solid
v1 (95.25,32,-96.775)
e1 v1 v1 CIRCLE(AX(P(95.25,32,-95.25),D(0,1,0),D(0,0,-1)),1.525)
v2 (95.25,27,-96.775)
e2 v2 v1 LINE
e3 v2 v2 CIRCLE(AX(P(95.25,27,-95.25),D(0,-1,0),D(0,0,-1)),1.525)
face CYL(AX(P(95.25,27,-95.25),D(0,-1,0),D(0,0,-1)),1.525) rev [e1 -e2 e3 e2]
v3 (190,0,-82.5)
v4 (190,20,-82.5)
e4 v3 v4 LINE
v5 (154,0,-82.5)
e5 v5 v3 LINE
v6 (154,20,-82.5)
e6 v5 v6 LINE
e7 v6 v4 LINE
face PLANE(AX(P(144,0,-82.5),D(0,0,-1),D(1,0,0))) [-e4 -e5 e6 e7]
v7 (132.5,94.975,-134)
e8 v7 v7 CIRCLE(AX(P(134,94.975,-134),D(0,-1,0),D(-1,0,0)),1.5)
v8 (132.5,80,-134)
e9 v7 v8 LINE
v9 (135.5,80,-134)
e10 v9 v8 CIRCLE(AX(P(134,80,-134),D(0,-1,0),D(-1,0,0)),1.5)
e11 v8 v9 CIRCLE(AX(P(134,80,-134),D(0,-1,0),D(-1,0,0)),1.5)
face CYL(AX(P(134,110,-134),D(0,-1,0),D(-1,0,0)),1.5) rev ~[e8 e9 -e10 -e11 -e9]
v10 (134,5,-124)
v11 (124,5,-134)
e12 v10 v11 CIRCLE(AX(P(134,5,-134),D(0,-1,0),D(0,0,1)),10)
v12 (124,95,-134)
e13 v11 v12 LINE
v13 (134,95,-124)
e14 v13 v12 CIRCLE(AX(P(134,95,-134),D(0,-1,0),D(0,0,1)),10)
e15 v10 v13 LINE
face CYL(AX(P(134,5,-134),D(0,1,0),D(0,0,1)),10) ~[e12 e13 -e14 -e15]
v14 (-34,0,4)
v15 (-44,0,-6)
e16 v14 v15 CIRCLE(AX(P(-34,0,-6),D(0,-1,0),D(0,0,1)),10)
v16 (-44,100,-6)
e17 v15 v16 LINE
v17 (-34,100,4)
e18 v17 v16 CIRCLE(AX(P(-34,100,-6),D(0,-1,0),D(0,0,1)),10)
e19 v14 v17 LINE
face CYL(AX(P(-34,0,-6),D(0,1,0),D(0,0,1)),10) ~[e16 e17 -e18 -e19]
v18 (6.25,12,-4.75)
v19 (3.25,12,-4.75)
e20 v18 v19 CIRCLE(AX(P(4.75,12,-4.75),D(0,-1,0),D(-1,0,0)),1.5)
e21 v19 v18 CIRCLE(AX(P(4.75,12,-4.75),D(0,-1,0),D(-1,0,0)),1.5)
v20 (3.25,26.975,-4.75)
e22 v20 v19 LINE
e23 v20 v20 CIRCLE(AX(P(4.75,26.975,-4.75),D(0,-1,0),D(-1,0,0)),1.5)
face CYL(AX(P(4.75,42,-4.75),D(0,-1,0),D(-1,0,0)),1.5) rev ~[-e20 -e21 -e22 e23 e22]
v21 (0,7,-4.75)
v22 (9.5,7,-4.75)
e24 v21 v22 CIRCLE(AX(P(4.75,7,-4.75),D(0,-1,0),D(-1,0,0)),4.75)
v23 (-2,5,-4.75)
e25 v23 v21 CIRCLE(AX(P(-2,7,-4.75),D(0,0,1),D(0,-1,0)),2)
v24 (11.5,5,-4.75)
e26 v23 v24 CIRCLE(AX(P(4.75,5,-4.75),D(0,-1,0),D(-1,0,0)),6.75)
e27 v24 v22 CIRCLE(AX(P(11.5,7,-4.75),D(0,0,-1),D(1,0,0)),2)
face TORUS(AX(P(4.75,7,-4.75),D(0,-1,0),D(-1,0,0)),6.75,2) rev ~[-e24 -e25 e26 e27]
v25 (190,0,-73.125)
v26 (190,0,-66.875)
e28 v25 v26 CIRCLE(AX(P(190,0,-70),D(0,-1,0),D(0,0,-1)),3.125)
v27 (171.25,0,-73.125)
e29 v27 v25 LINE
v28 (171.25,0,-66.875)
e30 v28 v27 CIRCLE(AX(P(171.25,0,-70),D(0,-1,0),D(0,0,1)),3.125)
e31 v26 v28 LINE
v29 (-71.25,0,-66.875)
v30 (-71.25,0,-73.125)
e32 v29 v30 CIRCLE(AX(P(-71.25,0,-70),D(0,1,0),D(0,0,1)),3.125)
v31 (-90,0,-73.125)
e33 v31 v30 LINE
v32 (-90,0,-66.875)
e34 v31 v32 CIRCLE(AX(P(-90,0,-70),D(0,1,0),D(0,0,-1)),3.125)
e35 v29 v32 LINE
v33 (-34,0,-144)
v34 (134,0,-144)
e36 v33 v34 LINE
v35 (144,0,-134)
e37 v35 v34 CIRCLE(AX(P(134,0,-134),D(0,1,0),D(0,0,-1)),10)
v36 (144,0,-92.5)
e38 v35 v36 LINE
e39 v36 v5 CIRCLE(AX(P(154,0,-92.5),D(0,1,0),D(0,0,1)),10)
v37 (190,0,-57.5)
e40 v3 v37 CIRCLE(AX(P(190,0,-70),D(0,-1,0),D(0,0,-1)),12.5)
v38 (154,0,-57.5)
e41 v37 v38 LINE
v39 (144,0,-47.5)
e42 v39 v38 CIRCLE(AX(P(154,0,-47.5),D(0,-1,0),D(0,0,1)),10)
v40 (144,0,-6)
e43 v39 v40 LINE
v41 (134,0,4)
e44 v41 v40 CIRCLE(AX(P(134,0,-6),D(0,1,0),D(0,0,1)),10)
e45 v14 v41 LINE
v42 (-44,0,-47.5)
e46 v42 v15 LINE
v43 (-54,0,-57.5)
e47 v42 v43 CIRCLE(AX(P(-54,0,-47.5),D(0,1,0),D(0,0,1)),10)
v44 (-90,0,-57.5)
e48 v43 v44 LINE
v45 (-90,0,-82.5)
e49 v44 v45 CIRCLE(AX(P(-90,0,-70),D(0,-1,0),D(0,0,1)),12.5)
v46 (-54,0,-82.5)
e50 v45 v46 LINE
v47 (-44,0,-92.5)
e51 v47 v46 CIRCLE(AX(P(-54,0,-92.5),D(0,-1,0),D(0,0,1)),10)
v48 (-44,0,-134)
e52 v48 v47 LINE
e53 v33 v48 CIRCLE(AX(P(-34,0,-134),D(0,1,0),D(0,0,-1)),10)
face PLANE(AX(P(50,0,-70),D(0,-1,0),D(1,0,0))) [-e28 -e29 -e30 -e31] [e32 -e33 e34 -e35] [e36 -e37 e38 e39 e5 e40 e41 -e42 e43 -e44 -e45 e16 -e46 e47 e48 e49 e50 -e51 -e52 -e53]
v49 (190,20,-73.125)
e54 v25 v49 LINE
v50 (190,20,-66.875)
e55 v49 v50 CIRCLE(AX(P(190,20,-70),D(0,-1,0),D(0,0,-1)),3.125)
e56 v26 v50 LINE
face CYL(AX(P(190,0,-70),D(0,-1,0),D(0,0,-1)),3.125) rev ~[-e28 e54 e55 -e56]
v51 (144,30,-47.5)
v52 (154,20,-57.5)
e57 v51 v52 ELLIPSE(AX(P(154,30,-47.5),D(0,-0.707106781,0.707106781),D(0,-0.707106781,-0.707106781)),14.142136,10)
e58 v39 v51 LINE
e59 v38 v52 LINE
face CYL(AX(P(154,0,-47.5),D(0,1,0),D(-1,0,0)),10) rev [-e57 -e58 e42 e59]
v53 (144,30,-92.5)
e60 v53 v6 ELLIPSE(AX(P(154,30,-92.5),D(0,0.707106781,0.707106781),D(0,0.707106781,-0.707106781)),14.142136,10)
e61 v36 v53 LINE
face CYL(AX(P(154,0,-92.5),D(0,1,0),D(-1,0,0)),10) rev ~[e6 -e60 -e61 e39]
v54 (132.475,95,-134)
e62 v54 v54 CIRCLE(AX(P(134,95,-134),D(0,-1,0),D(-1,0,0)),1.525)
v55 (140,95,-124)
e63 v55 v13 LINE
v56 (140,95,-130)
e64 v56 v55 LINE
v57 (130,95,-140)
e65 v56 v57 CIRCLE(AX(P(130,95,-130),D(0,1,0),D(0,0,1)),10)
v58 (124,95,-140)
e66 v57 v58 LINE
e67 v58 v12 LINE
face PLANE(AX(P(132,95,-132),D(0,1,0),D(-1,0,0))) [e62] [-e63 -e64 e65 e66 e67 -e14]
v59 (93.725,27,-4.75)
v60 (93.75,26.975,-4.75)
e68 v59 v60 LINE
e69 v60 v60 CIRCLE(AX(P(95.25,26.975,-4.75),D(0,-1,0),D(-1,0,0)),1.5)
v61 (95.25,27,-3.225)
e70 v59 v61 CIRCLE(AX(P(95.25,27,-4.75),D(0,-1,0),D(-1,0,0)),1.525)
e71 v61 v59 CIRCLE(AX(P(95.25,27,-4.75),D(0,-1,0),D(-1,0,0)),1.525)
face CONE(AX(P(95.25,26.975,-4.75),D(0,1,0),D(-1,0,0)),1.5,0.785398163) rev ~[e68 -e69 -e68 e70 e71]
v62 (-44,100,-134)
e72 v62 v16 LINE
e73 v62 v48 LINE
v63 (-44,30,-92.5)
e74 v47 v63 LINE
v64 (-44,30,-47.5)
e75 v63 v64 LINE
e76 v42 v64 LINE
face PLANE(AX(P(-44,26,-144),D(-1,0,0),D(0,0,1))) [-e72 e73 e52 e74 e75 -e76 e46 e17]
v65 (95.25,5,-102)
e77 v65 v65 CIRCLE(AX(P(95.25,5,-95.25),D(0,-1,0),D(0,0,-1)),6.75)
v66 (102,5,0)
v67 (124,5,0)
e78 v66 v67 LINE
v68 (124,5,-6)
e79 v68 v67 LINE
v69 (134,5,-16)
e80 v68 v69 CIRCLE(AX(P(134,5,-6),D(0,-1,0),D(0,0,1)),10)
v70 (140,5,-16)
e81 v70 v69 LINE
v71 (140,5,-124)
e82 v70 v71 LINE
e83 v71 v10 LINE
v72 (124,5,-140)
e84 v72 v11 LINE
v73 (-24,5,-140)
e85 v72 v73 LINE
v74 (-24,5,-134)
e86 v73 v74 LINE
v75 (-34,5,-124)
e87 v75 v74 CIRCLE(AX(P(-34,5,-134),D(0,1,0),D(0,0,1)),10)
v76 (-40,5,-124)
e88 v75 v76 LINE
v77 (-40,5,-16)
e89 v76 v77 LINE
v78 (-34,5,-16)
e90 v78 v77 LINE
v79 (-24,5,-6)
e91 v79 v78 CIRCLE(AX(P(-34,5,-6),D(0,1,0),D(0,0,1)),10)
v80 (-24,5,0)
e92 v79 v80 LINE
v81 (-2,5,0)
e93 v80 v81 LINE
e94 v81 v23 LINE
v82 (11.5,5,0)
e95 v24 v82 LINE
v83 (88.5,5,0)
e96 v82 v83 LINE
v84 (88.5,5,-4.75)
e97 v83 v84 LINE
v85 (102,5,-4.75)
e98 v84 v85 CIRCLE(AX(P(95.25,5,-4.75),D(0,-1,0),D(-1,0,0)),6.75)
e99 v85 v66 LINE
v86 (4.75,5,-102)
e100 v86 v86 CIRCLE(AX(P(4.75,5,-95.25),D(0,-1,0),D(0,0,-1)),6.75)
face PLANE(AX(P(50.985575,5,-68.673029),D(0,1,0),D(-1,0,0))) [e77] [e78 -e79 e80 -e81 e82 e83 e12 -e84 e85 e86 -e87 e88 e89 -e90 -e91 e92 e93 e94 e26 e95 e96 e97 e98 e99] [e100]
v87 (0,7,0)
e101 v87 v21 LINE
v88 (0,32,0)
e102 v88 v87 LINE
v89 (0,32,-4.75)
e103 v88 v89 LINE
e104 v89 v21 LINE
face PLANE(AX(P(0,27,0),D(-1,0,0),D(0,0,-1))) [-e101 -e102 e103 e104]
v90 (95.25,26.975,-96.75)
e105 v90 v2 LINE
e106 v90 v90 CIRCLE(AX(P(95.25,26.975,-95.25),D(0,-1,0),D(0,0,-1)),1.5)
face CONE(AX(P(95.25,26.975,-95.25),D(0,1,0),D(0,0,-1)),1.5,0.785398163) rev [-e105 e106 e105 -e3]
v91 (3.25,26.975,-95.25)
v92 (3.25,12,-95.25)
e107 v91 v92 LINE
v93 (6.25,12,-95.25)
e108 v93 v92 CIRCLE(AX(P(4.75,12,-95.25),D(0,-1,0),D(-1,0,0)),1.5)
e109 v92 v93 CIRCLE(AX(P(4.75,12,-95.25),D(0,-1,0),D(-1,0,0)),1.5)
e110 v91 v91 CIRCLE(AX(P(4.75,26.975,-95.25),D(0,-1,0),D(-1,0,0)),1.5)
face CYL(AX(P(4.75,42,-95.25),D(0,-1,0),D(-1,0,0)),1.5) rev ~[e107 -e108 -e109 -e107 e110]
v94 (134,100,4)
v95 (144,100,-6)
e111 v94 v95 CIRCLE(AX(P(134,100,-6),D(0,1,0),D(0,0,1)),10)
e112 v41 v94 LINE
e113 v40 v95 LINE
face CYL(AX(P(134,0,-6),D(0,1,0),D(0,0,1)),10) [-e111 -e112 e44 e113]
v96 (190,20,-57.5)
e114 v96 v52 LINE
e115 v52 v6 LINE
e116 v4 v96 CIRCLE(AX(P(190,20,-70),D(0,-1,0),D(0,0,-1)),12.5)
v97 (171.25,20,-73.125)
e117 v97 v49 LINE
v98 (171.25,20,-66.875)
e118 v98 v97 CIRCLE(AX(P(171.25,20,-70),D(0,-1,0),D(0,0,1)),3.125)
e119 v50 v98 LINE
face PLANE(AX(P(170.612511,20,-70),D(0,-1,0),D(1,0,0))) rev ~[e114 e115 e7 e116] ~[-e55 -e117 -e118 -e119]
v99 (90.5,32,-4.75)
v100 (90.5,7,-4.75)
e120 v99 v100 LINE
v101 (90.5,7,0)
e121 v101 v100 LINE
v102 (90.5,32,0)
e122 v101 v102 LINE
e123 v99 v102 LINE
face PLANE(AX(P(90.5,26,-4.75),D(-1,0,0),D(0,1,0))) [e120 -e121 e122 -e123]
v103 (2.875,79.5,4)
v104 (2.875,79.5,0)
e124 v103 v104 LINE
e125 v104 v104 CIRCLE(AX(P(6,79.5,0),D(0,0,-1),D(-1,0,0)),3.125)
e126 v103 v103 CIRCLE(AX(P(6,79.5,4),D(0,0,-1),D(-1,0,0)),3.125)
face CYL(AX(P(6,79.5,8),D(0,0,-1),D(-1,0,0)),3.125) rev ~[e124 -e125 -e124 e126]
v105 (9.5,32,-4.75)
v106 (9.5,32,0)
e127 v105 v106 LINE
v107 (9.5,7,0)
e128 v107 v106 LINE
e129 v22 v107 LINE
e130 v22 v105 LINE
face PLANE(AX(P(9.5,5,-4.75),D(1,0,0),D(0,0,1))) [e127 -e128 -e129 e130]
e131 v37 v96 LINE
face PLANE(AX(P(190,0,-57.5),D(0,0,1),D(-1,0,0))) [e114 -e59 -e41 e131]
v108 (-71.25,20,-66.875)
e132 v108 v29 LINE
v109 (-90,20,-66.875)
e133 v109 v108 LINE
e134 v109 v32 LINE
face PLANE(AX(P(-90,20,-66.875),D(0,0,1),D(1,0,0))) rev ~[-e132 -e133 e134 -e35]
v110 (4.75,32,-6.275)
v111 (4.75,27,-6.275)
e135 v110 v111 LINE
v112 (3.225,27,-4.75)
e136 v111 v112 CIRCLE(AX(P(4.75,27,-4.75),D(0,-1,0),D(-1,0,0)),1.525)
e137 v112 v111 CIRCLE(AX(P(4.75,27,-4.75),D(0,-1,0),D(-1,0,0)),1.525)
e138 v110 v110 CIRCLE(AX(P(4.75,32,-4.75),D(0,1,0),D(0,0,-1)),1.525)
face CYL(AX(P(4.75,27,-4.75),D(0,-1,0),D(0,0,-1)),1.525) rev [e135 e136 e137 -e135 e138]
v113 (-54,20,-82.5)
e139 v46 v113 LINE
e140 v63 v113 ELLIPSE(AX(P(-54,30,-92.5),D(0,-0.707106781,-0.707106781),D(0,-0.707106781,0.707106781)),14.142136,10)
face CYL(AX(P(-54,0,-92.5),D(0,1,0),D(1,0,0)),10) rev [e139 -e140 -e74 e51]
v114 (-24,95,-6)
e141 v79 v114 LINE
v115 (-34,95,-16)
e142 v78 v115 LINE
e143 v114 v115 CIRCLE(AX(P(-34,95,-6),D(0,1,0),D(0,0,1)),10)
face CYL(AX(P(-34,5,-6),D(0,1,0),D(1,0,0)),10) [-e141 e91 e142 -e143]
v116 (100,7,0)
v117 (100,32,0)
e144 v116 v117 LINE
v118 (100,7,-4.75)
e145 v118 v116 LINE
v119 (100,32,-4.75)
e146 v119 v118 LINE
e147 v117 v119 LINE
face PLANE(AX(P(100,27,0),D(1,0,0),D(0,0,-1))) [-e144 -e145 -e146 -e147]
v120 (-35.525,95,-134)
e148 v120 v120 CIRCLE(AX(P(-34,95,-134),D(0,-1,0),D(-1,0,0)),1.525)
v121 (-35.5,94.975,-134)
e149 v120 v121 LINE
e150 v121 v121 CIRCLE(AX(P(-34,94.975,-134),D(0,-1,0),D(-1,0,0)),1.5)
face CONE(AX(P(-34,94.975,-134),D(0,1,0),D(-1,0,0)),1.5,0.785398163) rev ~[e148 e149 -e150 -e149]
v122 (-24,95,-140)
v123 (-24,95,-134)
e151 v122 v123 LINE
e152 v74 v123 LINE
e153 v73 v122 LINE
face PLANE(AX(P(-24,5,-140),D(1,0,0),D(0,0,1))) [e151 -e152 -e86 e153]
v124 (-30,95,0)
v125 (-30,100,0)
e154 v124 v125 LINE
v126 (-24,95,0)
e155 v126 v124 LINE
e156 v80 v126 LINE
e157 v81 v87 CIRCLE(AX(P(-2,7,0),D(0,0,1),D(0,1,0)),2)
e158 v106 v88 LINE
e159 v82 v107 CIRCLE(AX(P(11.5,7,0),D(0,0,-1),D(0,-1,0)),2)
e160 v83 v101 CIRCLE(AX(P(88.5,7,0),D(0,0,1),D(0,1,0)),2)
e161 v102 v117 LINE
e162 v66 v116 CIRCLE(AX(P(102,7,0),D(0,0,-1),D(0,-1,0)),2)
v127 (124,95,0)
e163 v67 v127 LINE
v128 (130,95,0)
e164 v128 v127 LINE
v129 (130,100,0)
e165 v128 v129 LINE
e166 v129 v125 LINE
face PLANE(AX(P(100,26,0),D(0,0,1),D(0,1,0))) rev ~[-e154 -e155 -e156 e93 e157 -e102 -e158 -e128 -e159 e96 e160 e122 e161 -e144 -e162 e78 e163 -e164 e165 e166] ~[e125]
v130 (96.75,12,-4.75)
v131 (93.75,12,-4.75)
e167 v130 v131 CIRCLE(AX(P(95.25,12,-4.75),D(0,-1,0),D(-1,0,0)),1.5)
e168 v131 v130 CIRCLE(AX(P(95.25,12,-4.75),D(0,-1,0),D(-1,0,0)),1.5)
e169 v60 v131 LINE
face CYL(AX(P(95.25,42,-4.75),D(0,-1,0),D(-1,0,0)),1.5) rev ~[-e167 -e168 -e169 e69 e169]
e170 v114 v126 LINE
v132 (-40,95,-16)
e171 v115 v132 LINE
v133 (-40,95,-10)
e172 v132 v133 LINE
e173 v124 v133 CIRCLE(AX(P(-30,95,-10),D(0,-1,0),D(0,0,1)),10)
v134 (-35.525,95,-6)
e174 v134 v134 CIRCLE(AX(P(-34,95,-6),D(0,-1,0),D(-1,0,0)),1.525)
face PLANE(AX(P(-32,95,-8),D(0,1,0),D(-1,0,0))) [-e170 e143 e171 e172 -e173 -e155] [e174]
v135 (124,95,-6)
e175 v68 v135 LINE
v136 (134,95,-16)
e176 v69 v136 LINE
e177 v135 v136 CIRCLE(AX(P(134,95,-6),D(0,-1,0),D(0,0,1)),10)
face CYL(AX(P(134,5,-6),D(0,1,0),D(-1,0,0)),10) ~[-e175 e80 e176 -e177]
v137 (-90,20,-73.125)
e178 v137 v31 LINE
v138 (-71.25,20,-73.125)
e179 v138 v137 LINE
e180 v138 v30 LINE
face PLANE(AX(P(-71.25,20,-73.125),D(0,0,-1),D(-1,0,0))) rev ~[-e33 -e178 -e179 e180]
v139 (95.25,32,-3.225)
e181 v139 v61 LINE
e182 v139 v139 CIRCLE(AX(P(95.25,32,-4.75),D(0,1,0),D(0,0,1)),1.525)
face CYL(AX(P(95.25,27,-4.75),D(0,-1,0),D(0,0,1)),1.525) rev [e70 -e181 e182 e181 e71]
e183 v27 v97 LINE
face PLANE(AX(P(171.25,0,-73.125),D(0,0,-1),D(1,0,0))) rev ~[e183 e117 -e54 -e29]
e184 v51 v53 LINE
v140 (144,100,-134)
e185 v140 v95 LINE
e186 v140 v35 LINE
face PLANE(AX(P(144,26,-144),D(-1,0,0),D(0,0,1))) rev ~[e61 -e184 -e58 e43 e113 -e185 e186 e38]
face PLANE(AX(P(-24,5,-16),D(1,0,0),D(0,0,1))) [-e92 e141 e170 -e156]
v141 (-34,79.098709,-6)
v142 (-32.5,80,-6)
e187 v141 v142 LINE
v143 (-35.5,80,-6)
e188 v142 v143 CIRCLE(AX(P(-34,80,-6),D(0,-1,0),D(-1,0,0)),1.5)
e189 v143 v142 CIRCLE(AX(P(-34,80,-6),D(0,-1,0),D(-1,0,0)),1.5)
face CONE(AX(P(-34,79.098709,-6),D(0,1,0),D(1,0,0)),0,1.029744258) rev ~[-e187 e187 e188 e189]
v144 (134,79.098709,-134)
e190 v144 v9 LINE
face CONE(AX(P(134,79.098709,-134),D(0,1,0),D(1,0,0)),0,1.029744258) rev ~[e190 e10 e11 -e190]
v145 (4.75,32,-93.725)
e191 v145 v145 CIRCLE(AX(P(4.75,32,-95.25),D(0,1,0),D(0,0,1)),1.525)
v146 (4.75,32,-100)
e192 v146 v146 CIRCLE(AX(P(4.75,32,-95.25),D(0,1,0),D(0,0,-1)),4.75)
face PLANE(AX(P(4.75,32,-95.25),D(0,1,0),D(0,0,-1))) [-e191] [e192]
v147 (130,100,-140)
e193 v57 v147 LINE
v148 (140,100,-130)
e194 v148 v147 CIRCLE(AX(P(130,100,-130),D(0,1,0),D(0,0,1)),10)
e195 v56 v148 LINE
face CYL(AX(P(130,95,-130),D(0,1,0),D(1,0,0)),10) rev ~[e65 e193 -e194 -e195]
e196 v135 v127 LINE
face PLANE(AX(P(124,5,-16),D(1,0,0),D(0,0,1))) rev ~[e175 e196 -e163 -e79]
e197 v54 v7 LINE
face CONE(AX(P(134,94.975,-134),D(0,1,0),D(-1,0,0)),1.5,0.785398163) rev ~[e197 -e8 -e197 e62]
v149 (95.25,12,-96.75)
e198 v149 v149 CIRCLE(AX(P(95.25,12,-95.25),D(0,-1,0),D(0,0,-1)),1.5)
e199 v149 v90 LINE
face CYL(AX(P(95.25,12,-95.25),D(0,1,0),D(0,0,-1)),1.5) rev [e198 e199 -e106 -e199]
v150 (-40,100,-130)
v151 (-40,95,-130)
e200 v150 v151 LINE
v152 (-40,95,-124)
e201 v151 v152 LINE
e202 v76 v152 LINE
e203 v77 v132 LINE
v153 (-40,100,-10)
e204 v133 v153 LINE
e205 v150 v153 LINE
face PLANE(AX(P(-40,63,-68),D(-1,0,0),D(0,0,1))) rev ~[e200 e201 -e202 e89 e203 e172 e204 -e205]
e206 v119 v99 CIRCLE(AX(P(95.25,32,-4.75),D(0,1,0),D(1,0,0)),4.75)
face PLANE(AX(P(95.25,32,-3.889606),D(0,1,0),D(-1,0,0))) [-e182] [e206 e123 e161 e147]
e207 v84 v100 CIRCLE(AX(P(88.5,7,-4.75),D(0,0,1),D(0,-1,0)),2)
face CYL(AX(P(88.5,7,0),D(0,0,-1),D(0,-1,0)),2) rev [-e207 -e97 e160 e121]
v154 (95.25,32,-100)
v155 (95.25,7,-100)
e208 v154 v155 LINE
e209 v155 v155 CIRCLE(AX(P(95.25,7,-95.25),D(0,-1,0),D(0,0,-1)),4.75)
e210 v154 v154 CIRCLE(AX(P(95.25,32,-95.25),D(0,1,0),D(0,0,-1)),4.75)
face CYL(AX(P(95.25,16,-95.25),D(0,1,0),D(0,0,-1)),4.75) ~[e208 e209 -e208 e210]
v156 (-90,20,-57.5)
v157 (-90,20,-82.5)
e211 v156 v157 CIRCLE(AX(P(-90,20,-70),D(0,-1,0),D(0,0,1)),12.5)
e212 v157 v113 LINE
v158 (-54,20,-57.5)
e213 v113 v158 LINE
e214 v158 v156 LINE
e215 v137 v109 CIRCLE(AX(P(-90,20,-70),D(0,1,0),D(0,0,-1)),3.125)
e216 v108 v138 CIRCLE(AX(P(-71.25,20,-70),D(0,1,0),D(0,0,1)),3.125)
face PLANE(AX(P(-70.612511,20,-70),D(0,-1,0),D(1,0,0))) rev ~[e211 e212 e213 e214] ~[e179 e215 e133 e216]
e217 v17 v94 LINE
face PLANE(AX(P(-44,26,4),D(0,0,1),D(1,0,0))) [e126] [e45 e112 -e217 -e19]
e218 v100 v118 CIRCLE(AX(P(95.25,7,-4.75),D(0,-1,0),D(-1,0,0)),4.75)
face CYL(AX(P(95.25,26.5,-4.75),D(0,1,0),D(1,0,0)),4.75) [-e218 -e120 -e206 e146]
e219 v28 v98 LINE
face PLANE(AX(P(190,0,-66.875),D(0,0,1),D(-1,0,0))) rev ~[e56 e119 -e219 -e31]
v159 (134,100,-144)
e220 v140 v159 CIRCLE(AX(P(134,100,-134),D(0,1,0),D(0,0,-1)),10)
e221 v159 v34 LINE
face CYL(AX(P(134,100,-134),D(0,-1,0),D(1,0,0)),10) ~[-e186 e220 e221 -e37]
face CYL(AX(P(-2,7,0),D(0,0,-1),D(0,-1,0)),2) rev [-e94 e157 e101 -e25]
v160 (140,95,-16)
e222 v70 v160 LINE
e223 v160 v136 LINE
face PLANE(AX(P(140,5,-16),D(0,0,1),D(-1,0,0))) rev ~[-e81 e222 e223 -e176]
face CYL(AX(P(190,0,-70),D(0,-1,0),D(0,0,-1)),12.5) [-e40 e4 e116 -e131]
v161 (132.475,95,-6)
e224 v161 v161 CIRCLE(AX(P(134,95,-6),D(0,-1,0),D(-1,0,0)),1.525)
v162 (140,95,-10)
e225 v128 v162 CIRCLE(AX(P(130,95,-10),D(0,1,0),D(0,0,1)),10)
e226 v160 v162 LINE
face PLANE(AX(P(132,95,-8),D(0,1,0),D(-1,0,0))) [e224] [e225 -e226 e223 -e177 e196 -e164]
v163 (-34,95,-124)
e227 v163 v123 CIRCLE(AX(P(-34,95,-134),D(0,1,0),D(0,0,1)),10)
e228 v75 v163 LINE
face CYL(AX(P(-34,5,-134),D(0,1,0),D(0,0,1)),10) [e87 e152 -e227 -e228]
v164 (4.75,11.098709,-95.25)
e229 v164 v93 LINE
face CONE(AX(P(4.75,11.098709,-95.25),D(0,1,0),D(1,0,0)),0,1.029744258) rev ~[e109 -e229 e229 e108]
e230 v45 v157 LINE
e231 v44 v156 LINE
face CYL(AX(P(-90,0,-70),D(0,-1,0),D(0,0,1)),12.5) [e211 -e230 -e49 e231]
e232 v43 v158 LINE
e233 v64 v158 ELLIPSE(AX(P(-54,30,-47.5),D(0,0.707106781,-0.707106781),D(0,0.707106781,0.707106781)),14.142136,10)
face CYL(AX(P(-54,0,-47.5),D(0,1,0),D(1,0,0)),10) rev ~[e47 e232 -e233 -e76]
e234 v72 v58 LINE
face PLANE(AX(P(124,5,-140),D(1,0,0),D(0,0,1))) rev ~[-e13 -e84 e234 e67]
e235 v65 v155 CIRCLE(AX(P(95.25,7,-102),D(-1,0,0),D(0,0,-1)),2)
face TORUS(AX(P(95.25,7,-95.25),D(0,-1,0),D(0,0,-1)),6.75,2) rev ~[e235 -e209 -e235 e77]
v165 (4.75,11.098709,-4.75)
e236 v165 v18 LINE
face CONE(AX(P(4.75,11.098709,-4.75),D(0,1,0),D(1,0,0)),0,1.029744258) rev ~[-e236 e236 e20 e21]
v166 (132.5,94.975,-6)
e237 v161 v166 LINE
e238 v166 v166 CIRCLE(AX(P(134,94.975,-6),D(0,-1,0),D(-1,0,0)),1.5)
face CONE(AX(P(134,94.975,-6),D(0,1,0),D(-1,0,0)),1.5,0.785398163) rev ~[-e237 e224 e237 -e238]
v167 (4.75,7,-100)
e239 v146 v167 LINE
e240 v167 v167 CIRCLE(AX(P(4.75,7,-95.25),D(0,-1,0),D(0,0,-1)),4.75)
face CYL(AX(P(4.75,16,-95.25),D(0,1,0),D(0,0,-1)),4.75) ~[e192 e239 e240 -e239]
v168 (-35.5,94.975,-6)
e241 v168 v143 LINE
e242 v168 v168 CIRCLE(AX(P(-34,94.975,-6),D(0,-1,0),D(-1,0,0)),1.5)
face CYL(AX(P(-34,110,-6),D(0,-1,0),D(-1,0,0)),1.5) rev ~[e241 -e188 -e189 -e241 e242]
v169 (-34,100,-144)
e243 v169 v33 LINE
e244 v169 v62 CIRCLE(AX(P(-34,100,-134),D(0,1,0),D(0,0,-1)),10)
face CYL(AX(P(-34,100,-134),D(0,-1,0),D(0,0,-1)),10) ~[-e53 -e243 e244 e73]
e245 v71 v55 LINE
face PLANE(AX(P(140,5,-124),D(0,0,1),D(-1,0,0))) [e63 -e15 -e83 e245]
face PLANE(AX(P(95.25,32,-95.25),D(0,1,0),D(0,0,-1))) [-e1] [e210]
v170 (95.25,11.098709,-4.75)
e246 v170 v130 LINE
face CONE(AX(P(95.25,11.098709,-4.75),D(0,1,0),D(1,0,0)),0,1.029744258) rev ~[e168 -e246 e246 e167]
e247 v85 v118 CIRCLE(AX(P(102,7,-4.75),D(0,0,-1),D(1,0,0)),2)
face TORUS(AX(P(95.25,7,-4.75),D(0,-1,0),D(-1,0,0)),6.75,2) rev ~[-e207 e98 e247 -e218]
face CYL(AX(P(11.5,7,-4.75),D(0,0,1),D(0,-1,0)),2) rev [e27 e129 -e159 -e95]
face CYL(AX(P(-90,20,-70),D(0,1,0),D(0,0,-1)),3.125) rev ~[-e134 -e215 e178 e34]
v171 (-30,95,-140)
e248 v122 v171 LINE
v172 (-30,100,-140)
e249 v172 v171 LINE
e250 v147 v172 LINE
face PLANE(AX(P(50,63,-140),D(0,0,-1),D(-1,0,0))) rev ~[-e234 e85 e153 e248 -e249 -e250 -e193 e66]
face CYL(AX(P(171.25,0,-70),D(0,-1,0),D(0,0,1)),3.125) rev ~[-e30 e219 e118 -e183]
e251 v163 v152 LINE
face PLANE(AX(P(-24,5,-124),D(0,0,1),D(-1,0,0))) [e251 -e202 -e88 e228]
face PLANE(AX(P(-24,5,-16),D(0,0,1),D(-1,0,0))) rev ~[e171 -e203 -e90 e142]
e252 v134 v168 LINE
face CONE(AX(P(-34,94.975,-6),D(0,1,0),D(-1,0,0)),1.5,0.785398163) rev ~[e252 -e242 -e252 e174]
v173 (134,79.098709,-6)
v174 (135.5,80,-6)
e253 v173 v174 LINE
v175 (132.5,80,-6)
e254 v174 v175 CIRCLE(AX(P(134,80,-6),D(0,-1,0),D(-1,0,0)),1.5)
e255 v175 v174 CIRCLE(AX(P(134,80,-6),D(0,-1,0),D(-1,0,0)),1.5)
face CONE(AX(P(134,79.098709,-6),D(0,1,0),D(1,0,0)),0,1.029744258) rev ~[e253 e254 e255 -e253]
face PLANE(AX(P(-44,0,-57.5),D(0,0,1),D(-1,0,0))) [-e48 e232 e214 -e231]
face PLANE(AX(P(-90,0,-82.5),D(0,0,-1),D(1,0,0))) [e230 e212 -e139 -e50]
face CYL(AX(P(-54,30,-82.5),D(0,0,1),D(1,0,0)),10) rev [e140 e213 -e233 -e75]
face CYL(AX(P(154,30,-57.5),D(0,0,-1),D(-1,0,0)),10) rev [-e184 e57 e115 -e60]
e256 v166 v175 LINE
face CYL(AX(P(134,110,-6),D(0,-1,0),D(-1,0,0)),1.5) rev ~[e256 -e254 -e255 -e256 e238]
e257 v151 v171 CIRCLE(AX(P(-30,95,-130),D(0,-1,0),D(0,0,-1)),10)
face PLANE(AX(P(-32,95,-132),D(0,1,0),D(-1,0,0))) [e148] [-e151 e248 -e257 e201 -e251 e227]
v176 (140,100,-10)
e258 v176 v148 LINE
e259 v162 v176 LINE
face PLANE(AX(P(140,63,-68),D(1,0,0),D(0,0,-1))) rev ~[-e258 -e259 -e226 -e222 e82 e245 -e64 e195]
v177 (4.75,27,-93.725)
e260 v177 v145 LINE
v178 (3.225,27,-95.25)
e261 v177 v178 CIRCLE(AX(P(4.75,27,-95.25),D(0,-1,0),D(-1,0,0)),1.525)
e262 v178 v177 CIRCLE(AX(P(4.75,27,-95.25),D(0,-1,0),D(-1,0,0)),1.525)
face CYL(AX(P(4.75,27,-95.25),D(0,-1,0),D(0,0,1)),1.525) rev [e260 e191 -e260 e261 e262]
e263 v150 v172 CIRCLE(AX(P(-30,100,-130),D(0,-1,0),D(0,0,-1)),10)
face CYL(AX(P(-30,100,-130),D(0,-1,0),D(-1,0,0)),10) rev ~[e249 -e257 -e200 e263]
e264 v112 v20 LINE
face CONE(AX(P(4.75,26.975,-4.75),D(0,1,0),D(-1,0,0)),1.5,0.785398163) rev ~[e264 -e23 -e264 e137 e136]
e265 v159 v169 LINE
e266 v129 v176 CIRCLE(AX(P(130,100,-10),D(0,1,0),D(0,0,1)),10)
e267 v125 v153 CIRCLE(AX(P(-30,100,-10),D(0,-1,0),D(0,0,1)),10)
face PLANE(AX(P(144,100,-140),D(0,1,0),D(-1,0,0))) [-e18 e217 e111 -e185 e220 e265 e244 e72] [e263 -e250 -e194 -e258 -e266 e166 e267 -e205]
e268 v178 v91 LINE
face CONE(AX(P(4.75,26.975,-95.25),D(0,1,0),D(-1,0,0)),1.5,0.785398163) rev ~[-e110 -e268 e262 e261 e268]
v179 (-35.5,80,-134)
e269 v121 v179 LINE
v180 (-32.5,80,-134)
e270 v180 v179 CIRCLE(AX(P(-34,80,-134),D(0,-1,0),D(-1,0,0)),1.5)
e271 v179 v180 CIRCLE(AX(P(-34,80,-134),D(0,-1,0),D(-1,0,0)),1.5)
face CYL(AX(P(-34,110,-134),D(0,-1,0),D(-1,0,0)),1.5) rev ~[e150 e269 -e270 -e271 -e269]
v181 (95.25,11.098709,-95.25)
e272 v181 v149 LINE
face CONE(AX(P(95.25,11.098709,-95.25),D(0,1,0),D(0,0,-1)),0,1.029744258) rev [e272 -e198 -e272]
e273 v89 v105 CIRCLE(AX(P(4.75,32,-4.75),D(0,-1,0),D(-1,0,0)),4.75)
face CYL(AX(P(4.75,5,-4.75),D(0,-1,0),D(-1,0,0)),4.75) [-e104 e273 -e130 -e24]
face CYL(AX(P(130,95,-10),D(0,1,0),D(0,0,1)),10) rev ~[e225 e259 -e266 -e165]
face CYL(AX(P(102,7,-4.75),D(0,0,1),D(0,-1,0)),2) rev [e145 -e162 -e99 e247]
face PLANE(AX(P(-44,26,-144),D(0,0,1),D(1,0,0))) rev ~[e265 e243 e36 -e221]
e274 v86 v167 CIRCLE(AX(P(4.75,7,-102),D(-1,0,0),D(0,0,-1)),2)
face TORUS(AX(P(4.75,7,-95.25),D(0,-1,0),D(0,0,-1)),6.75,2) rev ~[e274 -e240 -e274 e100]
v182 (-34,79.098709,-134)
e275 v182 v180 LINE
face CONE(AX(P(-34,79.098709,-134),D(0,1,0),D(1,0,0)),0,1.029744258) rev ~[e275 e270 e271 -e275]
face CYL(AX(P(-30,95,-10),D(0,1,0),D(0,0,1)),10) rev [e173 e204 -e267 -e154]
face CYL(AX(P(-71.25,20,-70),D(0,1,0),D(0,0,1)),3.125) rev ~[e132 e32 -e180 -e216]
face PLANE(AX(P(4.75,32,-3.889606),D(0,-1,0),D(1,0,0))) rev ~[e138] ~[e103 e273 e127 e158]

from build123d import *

# Parameters (mm, degrees)
ESBO_O1_W                                  = 4.75
ESBO_O1_H                                  = 1
REVOLU_O1_ANGLE                            = 180
ESBO_O2_W                                  = 9.5
ESBO_O2_H                                  = 74
RESSALTO_EXTRUS_O1_DEPTH                   = 8.75
ESBO_O3_W                                  = 8.75
ESBO_O3_H                                  = 73
CORTE_EXTRUS_O1_DEPTH                      = 1.5
ESBO_O4_W                                  = 8
ESBO_O4_H                                  = 73
CORTE_EXTRUS_O2_DEPTH                      = 4.75
ESBO_O5_W                                  = 4
ESBO_O5_H                                  = 68
RESSALTO_EXTRUS_O2_DEPTH                   = 52
ESBO_O6_W                                  = 4
ESBO_O6_H                                  = 74
RESSALTO_EXTRUS_O3_DEPTH                   = 80
ESBO_O7_W                                  = 4
ESBO_O7_H                                  = 74
RESSALTO_EXTRUS_O4_DEPTH                   = 40
ESBO_O8_W                                  = 144
ESBO_O8_H                                  = 74
RESSALTO_EXTRUS_O5_DEPTH                   = 4
ESBO_O9_W                                  = 144
ESBO_O9_H                                  = 74
RESSALTO_EXTRUS_O6_DEPTH                   = 4
ESBO_O10_W                                 = 188
ESBO_O10_H                                 = 74
RESSALTO_EXTRUS_O7_DEPTH                   = 4
ESBO_O11_W                                 = 188
ESBO_O11_H                                 = 148
RESSALTO_EXTRUS_O8_DEPTH                   = 26
CORTE_EXTRUS_O3_DEPTH                      = 21
RESSALTO_EXTRUS_O9_DEPTH                   = 20
CORTE_EXTRUS_O4_DEPTH                      = 268.847437919
RESSALTO_EXTRUS_O10_DEPTH                  = 20
CORTE_EXTRUS_O5_DEPTH                      = 262.040705638
ESBO_O17_W                                 = 16
ESBO_O17_H                                 = 16
RESSALTO_EXTRUS_O11_DEPTH                  = 90
ESBO_O18_W                                 = 16
ESBO_O18_H                                 = 16
RESSALTO_EXTRUS_O12_DEPTH                  = 90
ESBO_O19_W                                 = 16
ESBO_O19_H                                 = 16
RESSALTO_EXTRUS_O13_DEPTH                  = 90
ESBO_O20_W                                 = 16
ESBO_O20_H                                 = 16
RESSALTO_EXTRUS_O14_DEPTH                  = 90
RESSALTO_EXTRUS_O15_DEPTH                  = 22
ESBO_O22_W                                 = 4.75
ESBO_O22_H                                 = 22
FURO_DE_DI_METRO_3_0_3_1_D                 = 3
FURO_DE_DI_METRO_3_0_3_1_DEPTH             = 15
FURO_DE_DI_METRO_3_0_3_1_TIP               = 0.901290929
FURO_DE_DI_METRO_3_0_3_2_D                 = 3
FURO_DE_DI_METRO_3_0_3_2_DEPTH             = 15
FURO_DE_DI_METRO_3_0_3_2_TIP               = 0.901290929
BROCA_DE_ROSQUEAR_PARA_HELICOIDE_M61_D     = 6.25
BROCA_DE_ROSQUEAR_PARA_HELICOIDE_M61_DEPTH = 4
CHANFRO1_SIZE                              = 0.025
FILETE1_R                                  = 2
FILETE2_R                                  = 10
ESBO_O35_W                                 = 4.75
ESBO_O35_H                                 = 22
FILETE3_R                                  = 2
ESBO_O43_W                                 = 52
ESBO_O43_H                                 = 6
RESSALTO_EXTRUS_O16_DEPTH                  = 4
ESBO_O44_R                                 = 4.75
ESBO_O44_R_2                               = 1.525
RESSALTO_EXTRUS_O17_DEPTH                  = 5


with BuildPart() as part:
    # Esboço1 → Revolução1 (revolve)
    with BuildSketch(Plane.XY.offset(-4.75)):
        with Locations((97.625, 26.5)):
            Rectangle(ESBO_O1_W, ESBO_O1_H)
    revolve(axis=Axis((95.25, 27, -4.75), (0, 1, 0)), revolution_arc=REVOLU_O1_ANGLE)

    # Esboço2 → Ressalto-extrusão1 (add)
    with BuildSketch(Plane.XY.offset(-4.75)):
        with Locations((95.25, 63)):
            Rectangle(ESBO_O2_W, ESBO_O2_H)
    extrude(amount=RESSALTO_EXTRUS_O1_DEPTH)

    # Esboço3 → Corte-extrusão1 (cut)
    with BuildSketch(Plane.ZY.offset(-90.5)):
        with Locations((-0.375, 63.5)):
            Rectangle(ESBO_O3_W, ESBO_O3_H)
    extrude(amount=-CORTE_EXTRUS_O1_DEPTH, mode=Mode.SUBTRACT)

    # Esboço4 → Corte-extrusão2 (cut)
    with BuildSketch(Plane(origin=(0, 0, -4.75), x_dir=(-1, 0, 0), z_dir=(0, 0, -1))):
        with Locations((-96, 63.5)):
            Rectangle(ESBO_O4_W, ESBO_O4_H)
    extrude(amount=-CORTE_EXTRUS_O2_DEPTH, mode=Mode.SUBTRACT)

    # Esboço5 → Ressalto-extrusão2 (add)
    with BuildSketch(Plane.ZY.offset(-92)):
        with Locations((2, 66)):
            Rectangle(ESBO_O5_W, ESBO_O5_H)
    extrude(amount=RESSALTO_EXTRUS_O2_DEPTH)

    # Esboço6 → Ressalto-extrusão3 (add)
    with BuildSketch(Plane.ZY.offset(-40)):
        with Locations((2, 63)):
            Rectangle(ESBO_O6_W, ESBO_O6_H)
    extrude(amount=RESSALTO_EXTRUS_O3_DEPTH)

    # Esboço7 → Ressalto-extrusão4 (add)
    with BuildSketch(Plane(origin=(100, 0, 0), x_dir=(0, 0, -1), z_dir=(1, 0, 0))):
        with Locations((-2, 63)):
            Rectangle(ESBO_O7_W, ESBO_O7_H)
    extrude(amount=RESSALTO_EXTRUS_O4_DEPTH)

    # Esboço8 → Ressalto-extrusão5 (add)
    with BuildSketch(Plane(origin=(140, 0, 0), x_dir=(0, 0, -1), z_dir=(1, 0, 0))):
        with Locations((68, 63)):
            Rectangle(ESBO_O8_W, ESBO_O8_H)
    extrude(amount=RESSALTO_EXTRUS_O5_DEPTH)

    # Esboço9 → Ressalto-extrusão6 (add)
    with BuildSketch(Plane.ZY.offset(40)):
        with Locations((-68, 63)):
            Rectangle(ESBO_O9_W, ESBO_O9_H)
    extrude(amount=RESSALTO_EXTRUS_O6_DEPTH)

    # Esboço10 → Ressalto-extrusão7 (add)
    with BuildSketch(Plane(origin=(0, 0, -140), x_dir=(-1, 0, 0), z_dir=(0, 0, -1))):
        with Locations((-50, 63)):
            Rectangle(ESBO_O10_W, ESBO_O10_H)
    extrude(amount=RESSALTO_EXTRUS_O7_DEPTH)

    # Esboço11 → Ressalto-extrusão8 (add)
    with BuildSketch(Plane.XZ.offset(-26)):
        with Locations((50, -70)):
            Rectangle(ESBO_O11_W, ESBO_O11_H)
    extrude(amount=RESSALTO_EXTRUS_O8_DEPTH)

    # Esboço12 → Corte-extrusão3 (cut)
    with BuildSketch(Plane(origin=(0, 26, 0), x_dir=(-1, 0, 0), z_dir=(0, 1, 0))):
        with BuildLine():
            Line((-140, -140), (40, -140))
            Line((40, -140), (40, 0))
            Line((40, 0), (-90.5, 0))
            Line((-90.5, 0), (-90.5, -4.75))
            ThreePointArc((-90.5, -4.75), (-95.25, -9.5), (-100, -4.75))
            Line((-100, -4.75), (-100, 0))
            Line((-100, 0), (-140, 0))
            Line((-140, 0), (-140, -140))
        make_face()
    extrude(amount=-CORTE_EXTRUS_O3_DEPTH, mode=Mode.SUBTRACT)

    # Esboço13 → Ressalto-extrusão9 (add)
    with BuildSketch(Plane.XZ):
        with BuildLine():
            Line((144, -82.5), (190, -82.5))
            ThreePointArc((190, -82.5), (202.5, -70), (190, -57.5))
            Line((190, -57.5), (144, -57.5))
            Line((144, -57.5), (144, -82.5))
        make_face()
    extrude(amount=-RESSALTO_EXTRUS_O9_DEPTH)

    # Esboço14 → Corte-extrusão4 (cut, through all)
    with BuildSketch(Plane.XZ):
        with BuildLine():
            Line((190, -66.875), (171.25, -66.875))
            ThreePointArc((171.25, -66.875), (168.125, -70), (171.25, -73.125))
            Line((171.25, -73.125), (190, -73.125))
            ThreePointArc((190, -73.125), (193.125, -70), (190, -66.875))
        make_face()
    extrude(amount=-CORTE_EXTRUS_O4_DEPTH, mode=Mode.SUBTRACT)

    # Esboço15 → Ressalto-extrusão10 (add)
    with BuildSketch(Plane.XZ):
        with BuildLine():
            Line((-44, -57.5), (-90, -57.5))
            ThreePointArc((-90, -57.5), (-102.5, -70), (-90, -82.5))
            Line((-90, -82.5), (-44, -82.5))
            Line((-44, -82.5), (-44, -57.5))
        make_face()
    extrude(amount=-RESSALTO_EXTRUS_O10_DEPTH)

    # Esboço16 → Corte-extrusão5 (cut, through all)
    with BuildSketch(Plane(origin=(0, 20, 0), x_dir=(-1, 0, 0), z_dir=(0, 1, 0))):
        with BuildLine():
            Line((71.25, -73.125), (90, -73.125))
            ThreePointArc((90, -73.125), (93.125, -70), (90, -66.875))
            Line((90, -66.875), (71.25, -66.875))
            ThreePointArc((71.25, -66.875), (68.125, -70), (71.25, -73.125))
        make_face()
    extrude(amount=-CORTE_EXTRUS_O5_DEPTH, mode=Mode.SUBTRACT)

    # Esboço17 → Ressalto-extrusão11 (add)
    with BuildSketch(Plane(origin=(0, 5, 0), x_dir=(-1, 0, 0), z_dir=(0, 1, 0))):
        with Locations((32, -132)):
            Rectangle(ESBO_O17_W, ESBO_O17_H)
    extrude(amount=RESSALTO_EXTRUS_O11_DEPTH)

    # Esboço18 → Ressalto-extrusão12 (add)
    with BuildSketch(Plane(origin=(0, 5, 0), x_dir=(-1, 0, 0), z_dir=(0, 1, 0))):
        with Locations((-132, -132)):
            Rectangle(ESBO_O18_W, ESBO_O18_H)
    extrude(amount=RESSALTO_EXTRUS_O12_DEPTH)

    # Esboço19 → Ressalto-extrusão13 (add)
    with BuildSketch(Plane(origin=(0, 5, 0), x_dir=(-1, 0, 0), z_dir=(0, 1, 0))):
        with Locations((-132, -8)):
            Rectangle(ESBO_O19_W, ESBO_O19_H)
    extrude(amount=RESSALTO_EXTRUS_O13_DEPTH)

    # Esboço20 → Ressalto-extrusão14 (add)
    with BuildSketch(Plane(origin=(0, 5, 0), x_dir=(-1, 0, 0), z_dir=(0, 1, 0))):
        with Locations((32, -8)):
            Rectangle(ESBO_O20_W, ESBO_O20_H)
    extrude(amount=RESSALTO_EXTRUS_O14_DEPTH)

    # Esboço21 → Ressalto-extrusão15 (add)
    with BuildSketch(Plane(origin=(0, 5, 0), x_dir=(-1, 0, 0), z_dir=(0, 1, 0))):
        with BuildLine():
            Line((-9.5, -4.75), (-9.5, 0))
            Line((-9.5, 0), (0, 0))
            Line((0, 0), (0, -4.75))
            ThreePointArc((0, -4.75), (-4.75, -9.5), (-9.5, -4.75))
        make_face()
    extrude(amount=RESSALTO_EXTRUS_O15_DEPTH)

    # Esboço22 → Revolução2 (revolve)
    with BuildSketch(Plane.XY.offset(-95.25), mode=Mode.PRIVATE) as revolu_o2_sk:
        with Locations((7.125, 16)):
            Rectangle(ESBO_O22_W, ESBO_O22_H)
    revolve(revolu_o2_sk.sketch.rotate(Axis((4.75, 27, -95.25), (0, -1, 0)), 270), axis=Axis((4.75, 27, -95.25), (0, -1, 0)))

    # Furo de diâmetro Ø3.0 (3)1
    with Locations(Plane(origin=(0, 95, 0), x_dir=(1, 0, 0), z_dir=(0, 1, 0))):
        with Locations((-34, 6), (134, 6), (134, 134), (-34, 134)):
            Hole(FURO_DE_DI_METRO_3_0_3_1_D / 2, depth=FURO_DE_DI_METRO_3_0_3_1_DEPTH)
            with Locations((0, 0, -(FURO_DE_DI_METRO_3_0_3_1_DEPTH + FURO_DE_DI_METRO_3_0_3_1_TIP / 2))):  # 118° drill point
                Cone(0, FURO_DE_DI_METRO_3_0_3_1_D / 2, FURO_DE_DI_METRO_3_0_3_1_TIP, mode=Mode.SUBTRACT)

    # Furo de diâmetro Ø3.0 (3)2
    with Locations(Plane(origin=(0, 27, 0), x_dir=(1, 0, 0), z_dir=(0, 1, 0))):
        with Locations((95.25, 4.75), (4.75, 4.75), (4.75, 95.25)):
            Hole(FURO_DE_DI_METRO_3_0_3_2_D / 2, depth=FURO_DE_DI_METRO_3_0_3_2_DEPTH)
            with Locations((0, 0, -(FURO_DE_DI_METRO_3_0_3_2_DEPTH + FURO_DE_DI_METRO_3_0_3_2_TIP / 2))):  # 118° drill point
                Cone(0, FURO_DE_DI_METRO_3_0_3_2_D / 2, FURO_DE_DI_METRO_3_0_3_2_TIP, mode=Mode.SUBTRACT)

    # Broca de rosquear para helicoide M61
    with Locations(Plane.XY.offset(4)):
        with Locations((6, 79.5)):
            Hole(BROCA_DE_ROSQUEAR_PARA_HELICOIDE_M61_D / 2, depth=BROCA_DE_ROSQUEAR_PARA_HELICOIDE_M61_DEPTH)

    # Chanfro1
    chanfro1_edges = [part.edges().sort_by_distance(p)[0] for p in [
        (-32.5, 95, -134),
        (135.5, 95, -134),
        (135.5, 95, -6),
        (-32.5, 95, -6),
        (6.25, 27, -95.25),
        (6.25, 27, -4.75),
        (96.75, 27, -4.75),
    ]]
    chamfer(chanfro1_edges, length=CHANFRO1_SIZE)

    # Filete1
    filete1_edges = [part.edges().sort_by_distance(p)[0] for p in [
        (92, 32, 2),
        (40, 32, 2),
        (40, 26, 2),
    ]]
    fillet(filete1_edges, radius=FILETE1_R)

    # Filete2
    filete2_edges = [part.edges().sort_by_distance(p)[0] for p in [
        (-40, 97.5, -140),
        (-44, 50, 4),
        (-44, 50, -144),
        (144, 50, -144),
        (144, 20, -70),
        (144, 10, -82.5),
        (144, 10, -57.5),
        (-44, 20, -70),
        (-44, 10, -57.5),
        (-44, 10, -82.5),
        (-24, 50, -124),
        (140, 97.5, -140),
        (124, 50, -124),
        (140, 97.5, 0),
        (124, 50, -16),
        (-24, 50, -16),
        (-40, 97.5, 0),
        (144, 50, 4),
    ]]
    fillet(filete2_edges, radius=FILETE2_R)

    # Esboço35 → Revolução3 (revolve)
    with BuildSketch(Plane.XY.offset(-95.25), mode=Mode.PRIVATE) as revolu_o3_sk:
        with Locations((97.625, 16)):
            Rectangle(ESBO_O35_W, ESBO_O35_H)
    revolve(revolu_o3_sk.sketch.rotate(Axis((95.25, 27, -95.25), (0, -1, 0)), 270), axis=Axis((95.25, 27, -95.25), (0, -1, 0)))

    # Esboço42 → Corte-Revolução1 (revolve, cut)
    with BuildSketch(Plane.XY.offset(-95.25), mode=Mode.PRIVATE) as corte_revolu_o1_sk:
        Polygon((96.775, 27), (95.25, 27), (95.25, 11.098709071), (96.75, 12), (96.75, 26.975), align=None)
    revolve(corte_revolu_o1_sk.sketch.rotate(Axis((95.25, 27, -95.25), (0, -1, 0)), 270), axis=Axis((95.25, 27, -95.25), (0, -1, 0)), mode=Mode.SUBTRACT)

    # Filete3
    filete3_edges = [part.edges().sort_by_distance(p)[0] for p in [
        (100, 5, -2.375),
        (95.25, 5, -9.5),
        (90.5, 5, -2.375),
        (4.75, 5, -9.5),
        (0, 5, -2.375),
        (9.5, 5, -2.375),
        (4.75, 5, -90.5),
        (95.25, 5, -90.5),
    ]]
    fillet(filete3_edges, radius=FILETE3_R)

    # Esboço43 → Ressalto-extrusão16 (add)
    with BuildSketch(Plane.XY.offset(4)):
        with Locations((66, 29)):
            Rectangle(ESBO_O43_W, ESBO_O43_H)
    extrude(amount=-RESSALTO_EXTRUS_O16_DEPTH)

    # Esboço44 → Ressalto-extrusão17 (add, symmetric)
    # profile 1 of 4: a face of its own
    with BuildSketch(Plane(origin=(0, 27, 0), x_dir=(-1, 0, 0), z_dir=(0, 1, 0))):
        with Locations(Location((-4.75, -95.25, 0), (0, 0, 270))):
            Circle(ESBO_O44_R)
        with Locations(Location((-4.75, -95.25, 0), (0, 0, 90))):
            Circle(ESBO_O44_R_2, mode=Mode.SUBTRACT)
    # profile 2 of 4: a face of its own
    with BuildSketch(Plane(origin=(0, 27, 0), x_dir=(-1, 0, 0), z_dir=(0, 1, 0))):
        with Locations(Location((-95.25, -95.25, 0), (0, 0, 270))):
            Circle(ESBO_O44_R)
        with Locations(Location((-95.25, -95.25, 0), (0, 0, 270))):
            Circle(ESBO_O44_R_2, mode=Mode.SUBTRACT)
    # profile 3 of 4: a face of its own
    with BuildSketch(Plane(origin=(0, 27, 0), x_dir=(-1, 0, 0), z_dir=(0, 1, 0))):
        with BuildLine():
            Line((-9.5, -4.75), (-9.5, 0))
            Line((-9.5, 0), (0, 0))
            Line((0, 0), (0, -4.75))
            ThreePointArc((0, -4.75), (-4.75, -9.5), (-9.5, -4.75))
        make_face()
        with Locations(Location((-4.75, -4.75, 0), (0, 0, 270))):
            Circle(ESBO_O44_R_2, mode=Mode.SUBTRACT)
    # profile 4 of 4: a face of its own
    with BuildSketch(Plane(origin=(0, 27, 0), x_dir=(-1, 0, 0), z_dir=(0, 1, 0))):
        with BuildLine():
            Line((-100, 0), (-100, -4.75))
            ThreePointArc((-100, -4.75), (-95.25, -9.5), (-90.5, -4.75))
            Line((-90.5, -4.75), (-90.5, 0))
            Line((-90.5, 0), (-100, 0))
        make_face()
        with Locations(Location((-95.25, -4.75, 0), (0, 0, 90))):
            Circle(ESBO_O44_R_2, mode=Mode.SUBTRACT)
    extrude(amount=RESSALTO_EXTRUS_O17_DEPTH, both=True)


solid = part.part
